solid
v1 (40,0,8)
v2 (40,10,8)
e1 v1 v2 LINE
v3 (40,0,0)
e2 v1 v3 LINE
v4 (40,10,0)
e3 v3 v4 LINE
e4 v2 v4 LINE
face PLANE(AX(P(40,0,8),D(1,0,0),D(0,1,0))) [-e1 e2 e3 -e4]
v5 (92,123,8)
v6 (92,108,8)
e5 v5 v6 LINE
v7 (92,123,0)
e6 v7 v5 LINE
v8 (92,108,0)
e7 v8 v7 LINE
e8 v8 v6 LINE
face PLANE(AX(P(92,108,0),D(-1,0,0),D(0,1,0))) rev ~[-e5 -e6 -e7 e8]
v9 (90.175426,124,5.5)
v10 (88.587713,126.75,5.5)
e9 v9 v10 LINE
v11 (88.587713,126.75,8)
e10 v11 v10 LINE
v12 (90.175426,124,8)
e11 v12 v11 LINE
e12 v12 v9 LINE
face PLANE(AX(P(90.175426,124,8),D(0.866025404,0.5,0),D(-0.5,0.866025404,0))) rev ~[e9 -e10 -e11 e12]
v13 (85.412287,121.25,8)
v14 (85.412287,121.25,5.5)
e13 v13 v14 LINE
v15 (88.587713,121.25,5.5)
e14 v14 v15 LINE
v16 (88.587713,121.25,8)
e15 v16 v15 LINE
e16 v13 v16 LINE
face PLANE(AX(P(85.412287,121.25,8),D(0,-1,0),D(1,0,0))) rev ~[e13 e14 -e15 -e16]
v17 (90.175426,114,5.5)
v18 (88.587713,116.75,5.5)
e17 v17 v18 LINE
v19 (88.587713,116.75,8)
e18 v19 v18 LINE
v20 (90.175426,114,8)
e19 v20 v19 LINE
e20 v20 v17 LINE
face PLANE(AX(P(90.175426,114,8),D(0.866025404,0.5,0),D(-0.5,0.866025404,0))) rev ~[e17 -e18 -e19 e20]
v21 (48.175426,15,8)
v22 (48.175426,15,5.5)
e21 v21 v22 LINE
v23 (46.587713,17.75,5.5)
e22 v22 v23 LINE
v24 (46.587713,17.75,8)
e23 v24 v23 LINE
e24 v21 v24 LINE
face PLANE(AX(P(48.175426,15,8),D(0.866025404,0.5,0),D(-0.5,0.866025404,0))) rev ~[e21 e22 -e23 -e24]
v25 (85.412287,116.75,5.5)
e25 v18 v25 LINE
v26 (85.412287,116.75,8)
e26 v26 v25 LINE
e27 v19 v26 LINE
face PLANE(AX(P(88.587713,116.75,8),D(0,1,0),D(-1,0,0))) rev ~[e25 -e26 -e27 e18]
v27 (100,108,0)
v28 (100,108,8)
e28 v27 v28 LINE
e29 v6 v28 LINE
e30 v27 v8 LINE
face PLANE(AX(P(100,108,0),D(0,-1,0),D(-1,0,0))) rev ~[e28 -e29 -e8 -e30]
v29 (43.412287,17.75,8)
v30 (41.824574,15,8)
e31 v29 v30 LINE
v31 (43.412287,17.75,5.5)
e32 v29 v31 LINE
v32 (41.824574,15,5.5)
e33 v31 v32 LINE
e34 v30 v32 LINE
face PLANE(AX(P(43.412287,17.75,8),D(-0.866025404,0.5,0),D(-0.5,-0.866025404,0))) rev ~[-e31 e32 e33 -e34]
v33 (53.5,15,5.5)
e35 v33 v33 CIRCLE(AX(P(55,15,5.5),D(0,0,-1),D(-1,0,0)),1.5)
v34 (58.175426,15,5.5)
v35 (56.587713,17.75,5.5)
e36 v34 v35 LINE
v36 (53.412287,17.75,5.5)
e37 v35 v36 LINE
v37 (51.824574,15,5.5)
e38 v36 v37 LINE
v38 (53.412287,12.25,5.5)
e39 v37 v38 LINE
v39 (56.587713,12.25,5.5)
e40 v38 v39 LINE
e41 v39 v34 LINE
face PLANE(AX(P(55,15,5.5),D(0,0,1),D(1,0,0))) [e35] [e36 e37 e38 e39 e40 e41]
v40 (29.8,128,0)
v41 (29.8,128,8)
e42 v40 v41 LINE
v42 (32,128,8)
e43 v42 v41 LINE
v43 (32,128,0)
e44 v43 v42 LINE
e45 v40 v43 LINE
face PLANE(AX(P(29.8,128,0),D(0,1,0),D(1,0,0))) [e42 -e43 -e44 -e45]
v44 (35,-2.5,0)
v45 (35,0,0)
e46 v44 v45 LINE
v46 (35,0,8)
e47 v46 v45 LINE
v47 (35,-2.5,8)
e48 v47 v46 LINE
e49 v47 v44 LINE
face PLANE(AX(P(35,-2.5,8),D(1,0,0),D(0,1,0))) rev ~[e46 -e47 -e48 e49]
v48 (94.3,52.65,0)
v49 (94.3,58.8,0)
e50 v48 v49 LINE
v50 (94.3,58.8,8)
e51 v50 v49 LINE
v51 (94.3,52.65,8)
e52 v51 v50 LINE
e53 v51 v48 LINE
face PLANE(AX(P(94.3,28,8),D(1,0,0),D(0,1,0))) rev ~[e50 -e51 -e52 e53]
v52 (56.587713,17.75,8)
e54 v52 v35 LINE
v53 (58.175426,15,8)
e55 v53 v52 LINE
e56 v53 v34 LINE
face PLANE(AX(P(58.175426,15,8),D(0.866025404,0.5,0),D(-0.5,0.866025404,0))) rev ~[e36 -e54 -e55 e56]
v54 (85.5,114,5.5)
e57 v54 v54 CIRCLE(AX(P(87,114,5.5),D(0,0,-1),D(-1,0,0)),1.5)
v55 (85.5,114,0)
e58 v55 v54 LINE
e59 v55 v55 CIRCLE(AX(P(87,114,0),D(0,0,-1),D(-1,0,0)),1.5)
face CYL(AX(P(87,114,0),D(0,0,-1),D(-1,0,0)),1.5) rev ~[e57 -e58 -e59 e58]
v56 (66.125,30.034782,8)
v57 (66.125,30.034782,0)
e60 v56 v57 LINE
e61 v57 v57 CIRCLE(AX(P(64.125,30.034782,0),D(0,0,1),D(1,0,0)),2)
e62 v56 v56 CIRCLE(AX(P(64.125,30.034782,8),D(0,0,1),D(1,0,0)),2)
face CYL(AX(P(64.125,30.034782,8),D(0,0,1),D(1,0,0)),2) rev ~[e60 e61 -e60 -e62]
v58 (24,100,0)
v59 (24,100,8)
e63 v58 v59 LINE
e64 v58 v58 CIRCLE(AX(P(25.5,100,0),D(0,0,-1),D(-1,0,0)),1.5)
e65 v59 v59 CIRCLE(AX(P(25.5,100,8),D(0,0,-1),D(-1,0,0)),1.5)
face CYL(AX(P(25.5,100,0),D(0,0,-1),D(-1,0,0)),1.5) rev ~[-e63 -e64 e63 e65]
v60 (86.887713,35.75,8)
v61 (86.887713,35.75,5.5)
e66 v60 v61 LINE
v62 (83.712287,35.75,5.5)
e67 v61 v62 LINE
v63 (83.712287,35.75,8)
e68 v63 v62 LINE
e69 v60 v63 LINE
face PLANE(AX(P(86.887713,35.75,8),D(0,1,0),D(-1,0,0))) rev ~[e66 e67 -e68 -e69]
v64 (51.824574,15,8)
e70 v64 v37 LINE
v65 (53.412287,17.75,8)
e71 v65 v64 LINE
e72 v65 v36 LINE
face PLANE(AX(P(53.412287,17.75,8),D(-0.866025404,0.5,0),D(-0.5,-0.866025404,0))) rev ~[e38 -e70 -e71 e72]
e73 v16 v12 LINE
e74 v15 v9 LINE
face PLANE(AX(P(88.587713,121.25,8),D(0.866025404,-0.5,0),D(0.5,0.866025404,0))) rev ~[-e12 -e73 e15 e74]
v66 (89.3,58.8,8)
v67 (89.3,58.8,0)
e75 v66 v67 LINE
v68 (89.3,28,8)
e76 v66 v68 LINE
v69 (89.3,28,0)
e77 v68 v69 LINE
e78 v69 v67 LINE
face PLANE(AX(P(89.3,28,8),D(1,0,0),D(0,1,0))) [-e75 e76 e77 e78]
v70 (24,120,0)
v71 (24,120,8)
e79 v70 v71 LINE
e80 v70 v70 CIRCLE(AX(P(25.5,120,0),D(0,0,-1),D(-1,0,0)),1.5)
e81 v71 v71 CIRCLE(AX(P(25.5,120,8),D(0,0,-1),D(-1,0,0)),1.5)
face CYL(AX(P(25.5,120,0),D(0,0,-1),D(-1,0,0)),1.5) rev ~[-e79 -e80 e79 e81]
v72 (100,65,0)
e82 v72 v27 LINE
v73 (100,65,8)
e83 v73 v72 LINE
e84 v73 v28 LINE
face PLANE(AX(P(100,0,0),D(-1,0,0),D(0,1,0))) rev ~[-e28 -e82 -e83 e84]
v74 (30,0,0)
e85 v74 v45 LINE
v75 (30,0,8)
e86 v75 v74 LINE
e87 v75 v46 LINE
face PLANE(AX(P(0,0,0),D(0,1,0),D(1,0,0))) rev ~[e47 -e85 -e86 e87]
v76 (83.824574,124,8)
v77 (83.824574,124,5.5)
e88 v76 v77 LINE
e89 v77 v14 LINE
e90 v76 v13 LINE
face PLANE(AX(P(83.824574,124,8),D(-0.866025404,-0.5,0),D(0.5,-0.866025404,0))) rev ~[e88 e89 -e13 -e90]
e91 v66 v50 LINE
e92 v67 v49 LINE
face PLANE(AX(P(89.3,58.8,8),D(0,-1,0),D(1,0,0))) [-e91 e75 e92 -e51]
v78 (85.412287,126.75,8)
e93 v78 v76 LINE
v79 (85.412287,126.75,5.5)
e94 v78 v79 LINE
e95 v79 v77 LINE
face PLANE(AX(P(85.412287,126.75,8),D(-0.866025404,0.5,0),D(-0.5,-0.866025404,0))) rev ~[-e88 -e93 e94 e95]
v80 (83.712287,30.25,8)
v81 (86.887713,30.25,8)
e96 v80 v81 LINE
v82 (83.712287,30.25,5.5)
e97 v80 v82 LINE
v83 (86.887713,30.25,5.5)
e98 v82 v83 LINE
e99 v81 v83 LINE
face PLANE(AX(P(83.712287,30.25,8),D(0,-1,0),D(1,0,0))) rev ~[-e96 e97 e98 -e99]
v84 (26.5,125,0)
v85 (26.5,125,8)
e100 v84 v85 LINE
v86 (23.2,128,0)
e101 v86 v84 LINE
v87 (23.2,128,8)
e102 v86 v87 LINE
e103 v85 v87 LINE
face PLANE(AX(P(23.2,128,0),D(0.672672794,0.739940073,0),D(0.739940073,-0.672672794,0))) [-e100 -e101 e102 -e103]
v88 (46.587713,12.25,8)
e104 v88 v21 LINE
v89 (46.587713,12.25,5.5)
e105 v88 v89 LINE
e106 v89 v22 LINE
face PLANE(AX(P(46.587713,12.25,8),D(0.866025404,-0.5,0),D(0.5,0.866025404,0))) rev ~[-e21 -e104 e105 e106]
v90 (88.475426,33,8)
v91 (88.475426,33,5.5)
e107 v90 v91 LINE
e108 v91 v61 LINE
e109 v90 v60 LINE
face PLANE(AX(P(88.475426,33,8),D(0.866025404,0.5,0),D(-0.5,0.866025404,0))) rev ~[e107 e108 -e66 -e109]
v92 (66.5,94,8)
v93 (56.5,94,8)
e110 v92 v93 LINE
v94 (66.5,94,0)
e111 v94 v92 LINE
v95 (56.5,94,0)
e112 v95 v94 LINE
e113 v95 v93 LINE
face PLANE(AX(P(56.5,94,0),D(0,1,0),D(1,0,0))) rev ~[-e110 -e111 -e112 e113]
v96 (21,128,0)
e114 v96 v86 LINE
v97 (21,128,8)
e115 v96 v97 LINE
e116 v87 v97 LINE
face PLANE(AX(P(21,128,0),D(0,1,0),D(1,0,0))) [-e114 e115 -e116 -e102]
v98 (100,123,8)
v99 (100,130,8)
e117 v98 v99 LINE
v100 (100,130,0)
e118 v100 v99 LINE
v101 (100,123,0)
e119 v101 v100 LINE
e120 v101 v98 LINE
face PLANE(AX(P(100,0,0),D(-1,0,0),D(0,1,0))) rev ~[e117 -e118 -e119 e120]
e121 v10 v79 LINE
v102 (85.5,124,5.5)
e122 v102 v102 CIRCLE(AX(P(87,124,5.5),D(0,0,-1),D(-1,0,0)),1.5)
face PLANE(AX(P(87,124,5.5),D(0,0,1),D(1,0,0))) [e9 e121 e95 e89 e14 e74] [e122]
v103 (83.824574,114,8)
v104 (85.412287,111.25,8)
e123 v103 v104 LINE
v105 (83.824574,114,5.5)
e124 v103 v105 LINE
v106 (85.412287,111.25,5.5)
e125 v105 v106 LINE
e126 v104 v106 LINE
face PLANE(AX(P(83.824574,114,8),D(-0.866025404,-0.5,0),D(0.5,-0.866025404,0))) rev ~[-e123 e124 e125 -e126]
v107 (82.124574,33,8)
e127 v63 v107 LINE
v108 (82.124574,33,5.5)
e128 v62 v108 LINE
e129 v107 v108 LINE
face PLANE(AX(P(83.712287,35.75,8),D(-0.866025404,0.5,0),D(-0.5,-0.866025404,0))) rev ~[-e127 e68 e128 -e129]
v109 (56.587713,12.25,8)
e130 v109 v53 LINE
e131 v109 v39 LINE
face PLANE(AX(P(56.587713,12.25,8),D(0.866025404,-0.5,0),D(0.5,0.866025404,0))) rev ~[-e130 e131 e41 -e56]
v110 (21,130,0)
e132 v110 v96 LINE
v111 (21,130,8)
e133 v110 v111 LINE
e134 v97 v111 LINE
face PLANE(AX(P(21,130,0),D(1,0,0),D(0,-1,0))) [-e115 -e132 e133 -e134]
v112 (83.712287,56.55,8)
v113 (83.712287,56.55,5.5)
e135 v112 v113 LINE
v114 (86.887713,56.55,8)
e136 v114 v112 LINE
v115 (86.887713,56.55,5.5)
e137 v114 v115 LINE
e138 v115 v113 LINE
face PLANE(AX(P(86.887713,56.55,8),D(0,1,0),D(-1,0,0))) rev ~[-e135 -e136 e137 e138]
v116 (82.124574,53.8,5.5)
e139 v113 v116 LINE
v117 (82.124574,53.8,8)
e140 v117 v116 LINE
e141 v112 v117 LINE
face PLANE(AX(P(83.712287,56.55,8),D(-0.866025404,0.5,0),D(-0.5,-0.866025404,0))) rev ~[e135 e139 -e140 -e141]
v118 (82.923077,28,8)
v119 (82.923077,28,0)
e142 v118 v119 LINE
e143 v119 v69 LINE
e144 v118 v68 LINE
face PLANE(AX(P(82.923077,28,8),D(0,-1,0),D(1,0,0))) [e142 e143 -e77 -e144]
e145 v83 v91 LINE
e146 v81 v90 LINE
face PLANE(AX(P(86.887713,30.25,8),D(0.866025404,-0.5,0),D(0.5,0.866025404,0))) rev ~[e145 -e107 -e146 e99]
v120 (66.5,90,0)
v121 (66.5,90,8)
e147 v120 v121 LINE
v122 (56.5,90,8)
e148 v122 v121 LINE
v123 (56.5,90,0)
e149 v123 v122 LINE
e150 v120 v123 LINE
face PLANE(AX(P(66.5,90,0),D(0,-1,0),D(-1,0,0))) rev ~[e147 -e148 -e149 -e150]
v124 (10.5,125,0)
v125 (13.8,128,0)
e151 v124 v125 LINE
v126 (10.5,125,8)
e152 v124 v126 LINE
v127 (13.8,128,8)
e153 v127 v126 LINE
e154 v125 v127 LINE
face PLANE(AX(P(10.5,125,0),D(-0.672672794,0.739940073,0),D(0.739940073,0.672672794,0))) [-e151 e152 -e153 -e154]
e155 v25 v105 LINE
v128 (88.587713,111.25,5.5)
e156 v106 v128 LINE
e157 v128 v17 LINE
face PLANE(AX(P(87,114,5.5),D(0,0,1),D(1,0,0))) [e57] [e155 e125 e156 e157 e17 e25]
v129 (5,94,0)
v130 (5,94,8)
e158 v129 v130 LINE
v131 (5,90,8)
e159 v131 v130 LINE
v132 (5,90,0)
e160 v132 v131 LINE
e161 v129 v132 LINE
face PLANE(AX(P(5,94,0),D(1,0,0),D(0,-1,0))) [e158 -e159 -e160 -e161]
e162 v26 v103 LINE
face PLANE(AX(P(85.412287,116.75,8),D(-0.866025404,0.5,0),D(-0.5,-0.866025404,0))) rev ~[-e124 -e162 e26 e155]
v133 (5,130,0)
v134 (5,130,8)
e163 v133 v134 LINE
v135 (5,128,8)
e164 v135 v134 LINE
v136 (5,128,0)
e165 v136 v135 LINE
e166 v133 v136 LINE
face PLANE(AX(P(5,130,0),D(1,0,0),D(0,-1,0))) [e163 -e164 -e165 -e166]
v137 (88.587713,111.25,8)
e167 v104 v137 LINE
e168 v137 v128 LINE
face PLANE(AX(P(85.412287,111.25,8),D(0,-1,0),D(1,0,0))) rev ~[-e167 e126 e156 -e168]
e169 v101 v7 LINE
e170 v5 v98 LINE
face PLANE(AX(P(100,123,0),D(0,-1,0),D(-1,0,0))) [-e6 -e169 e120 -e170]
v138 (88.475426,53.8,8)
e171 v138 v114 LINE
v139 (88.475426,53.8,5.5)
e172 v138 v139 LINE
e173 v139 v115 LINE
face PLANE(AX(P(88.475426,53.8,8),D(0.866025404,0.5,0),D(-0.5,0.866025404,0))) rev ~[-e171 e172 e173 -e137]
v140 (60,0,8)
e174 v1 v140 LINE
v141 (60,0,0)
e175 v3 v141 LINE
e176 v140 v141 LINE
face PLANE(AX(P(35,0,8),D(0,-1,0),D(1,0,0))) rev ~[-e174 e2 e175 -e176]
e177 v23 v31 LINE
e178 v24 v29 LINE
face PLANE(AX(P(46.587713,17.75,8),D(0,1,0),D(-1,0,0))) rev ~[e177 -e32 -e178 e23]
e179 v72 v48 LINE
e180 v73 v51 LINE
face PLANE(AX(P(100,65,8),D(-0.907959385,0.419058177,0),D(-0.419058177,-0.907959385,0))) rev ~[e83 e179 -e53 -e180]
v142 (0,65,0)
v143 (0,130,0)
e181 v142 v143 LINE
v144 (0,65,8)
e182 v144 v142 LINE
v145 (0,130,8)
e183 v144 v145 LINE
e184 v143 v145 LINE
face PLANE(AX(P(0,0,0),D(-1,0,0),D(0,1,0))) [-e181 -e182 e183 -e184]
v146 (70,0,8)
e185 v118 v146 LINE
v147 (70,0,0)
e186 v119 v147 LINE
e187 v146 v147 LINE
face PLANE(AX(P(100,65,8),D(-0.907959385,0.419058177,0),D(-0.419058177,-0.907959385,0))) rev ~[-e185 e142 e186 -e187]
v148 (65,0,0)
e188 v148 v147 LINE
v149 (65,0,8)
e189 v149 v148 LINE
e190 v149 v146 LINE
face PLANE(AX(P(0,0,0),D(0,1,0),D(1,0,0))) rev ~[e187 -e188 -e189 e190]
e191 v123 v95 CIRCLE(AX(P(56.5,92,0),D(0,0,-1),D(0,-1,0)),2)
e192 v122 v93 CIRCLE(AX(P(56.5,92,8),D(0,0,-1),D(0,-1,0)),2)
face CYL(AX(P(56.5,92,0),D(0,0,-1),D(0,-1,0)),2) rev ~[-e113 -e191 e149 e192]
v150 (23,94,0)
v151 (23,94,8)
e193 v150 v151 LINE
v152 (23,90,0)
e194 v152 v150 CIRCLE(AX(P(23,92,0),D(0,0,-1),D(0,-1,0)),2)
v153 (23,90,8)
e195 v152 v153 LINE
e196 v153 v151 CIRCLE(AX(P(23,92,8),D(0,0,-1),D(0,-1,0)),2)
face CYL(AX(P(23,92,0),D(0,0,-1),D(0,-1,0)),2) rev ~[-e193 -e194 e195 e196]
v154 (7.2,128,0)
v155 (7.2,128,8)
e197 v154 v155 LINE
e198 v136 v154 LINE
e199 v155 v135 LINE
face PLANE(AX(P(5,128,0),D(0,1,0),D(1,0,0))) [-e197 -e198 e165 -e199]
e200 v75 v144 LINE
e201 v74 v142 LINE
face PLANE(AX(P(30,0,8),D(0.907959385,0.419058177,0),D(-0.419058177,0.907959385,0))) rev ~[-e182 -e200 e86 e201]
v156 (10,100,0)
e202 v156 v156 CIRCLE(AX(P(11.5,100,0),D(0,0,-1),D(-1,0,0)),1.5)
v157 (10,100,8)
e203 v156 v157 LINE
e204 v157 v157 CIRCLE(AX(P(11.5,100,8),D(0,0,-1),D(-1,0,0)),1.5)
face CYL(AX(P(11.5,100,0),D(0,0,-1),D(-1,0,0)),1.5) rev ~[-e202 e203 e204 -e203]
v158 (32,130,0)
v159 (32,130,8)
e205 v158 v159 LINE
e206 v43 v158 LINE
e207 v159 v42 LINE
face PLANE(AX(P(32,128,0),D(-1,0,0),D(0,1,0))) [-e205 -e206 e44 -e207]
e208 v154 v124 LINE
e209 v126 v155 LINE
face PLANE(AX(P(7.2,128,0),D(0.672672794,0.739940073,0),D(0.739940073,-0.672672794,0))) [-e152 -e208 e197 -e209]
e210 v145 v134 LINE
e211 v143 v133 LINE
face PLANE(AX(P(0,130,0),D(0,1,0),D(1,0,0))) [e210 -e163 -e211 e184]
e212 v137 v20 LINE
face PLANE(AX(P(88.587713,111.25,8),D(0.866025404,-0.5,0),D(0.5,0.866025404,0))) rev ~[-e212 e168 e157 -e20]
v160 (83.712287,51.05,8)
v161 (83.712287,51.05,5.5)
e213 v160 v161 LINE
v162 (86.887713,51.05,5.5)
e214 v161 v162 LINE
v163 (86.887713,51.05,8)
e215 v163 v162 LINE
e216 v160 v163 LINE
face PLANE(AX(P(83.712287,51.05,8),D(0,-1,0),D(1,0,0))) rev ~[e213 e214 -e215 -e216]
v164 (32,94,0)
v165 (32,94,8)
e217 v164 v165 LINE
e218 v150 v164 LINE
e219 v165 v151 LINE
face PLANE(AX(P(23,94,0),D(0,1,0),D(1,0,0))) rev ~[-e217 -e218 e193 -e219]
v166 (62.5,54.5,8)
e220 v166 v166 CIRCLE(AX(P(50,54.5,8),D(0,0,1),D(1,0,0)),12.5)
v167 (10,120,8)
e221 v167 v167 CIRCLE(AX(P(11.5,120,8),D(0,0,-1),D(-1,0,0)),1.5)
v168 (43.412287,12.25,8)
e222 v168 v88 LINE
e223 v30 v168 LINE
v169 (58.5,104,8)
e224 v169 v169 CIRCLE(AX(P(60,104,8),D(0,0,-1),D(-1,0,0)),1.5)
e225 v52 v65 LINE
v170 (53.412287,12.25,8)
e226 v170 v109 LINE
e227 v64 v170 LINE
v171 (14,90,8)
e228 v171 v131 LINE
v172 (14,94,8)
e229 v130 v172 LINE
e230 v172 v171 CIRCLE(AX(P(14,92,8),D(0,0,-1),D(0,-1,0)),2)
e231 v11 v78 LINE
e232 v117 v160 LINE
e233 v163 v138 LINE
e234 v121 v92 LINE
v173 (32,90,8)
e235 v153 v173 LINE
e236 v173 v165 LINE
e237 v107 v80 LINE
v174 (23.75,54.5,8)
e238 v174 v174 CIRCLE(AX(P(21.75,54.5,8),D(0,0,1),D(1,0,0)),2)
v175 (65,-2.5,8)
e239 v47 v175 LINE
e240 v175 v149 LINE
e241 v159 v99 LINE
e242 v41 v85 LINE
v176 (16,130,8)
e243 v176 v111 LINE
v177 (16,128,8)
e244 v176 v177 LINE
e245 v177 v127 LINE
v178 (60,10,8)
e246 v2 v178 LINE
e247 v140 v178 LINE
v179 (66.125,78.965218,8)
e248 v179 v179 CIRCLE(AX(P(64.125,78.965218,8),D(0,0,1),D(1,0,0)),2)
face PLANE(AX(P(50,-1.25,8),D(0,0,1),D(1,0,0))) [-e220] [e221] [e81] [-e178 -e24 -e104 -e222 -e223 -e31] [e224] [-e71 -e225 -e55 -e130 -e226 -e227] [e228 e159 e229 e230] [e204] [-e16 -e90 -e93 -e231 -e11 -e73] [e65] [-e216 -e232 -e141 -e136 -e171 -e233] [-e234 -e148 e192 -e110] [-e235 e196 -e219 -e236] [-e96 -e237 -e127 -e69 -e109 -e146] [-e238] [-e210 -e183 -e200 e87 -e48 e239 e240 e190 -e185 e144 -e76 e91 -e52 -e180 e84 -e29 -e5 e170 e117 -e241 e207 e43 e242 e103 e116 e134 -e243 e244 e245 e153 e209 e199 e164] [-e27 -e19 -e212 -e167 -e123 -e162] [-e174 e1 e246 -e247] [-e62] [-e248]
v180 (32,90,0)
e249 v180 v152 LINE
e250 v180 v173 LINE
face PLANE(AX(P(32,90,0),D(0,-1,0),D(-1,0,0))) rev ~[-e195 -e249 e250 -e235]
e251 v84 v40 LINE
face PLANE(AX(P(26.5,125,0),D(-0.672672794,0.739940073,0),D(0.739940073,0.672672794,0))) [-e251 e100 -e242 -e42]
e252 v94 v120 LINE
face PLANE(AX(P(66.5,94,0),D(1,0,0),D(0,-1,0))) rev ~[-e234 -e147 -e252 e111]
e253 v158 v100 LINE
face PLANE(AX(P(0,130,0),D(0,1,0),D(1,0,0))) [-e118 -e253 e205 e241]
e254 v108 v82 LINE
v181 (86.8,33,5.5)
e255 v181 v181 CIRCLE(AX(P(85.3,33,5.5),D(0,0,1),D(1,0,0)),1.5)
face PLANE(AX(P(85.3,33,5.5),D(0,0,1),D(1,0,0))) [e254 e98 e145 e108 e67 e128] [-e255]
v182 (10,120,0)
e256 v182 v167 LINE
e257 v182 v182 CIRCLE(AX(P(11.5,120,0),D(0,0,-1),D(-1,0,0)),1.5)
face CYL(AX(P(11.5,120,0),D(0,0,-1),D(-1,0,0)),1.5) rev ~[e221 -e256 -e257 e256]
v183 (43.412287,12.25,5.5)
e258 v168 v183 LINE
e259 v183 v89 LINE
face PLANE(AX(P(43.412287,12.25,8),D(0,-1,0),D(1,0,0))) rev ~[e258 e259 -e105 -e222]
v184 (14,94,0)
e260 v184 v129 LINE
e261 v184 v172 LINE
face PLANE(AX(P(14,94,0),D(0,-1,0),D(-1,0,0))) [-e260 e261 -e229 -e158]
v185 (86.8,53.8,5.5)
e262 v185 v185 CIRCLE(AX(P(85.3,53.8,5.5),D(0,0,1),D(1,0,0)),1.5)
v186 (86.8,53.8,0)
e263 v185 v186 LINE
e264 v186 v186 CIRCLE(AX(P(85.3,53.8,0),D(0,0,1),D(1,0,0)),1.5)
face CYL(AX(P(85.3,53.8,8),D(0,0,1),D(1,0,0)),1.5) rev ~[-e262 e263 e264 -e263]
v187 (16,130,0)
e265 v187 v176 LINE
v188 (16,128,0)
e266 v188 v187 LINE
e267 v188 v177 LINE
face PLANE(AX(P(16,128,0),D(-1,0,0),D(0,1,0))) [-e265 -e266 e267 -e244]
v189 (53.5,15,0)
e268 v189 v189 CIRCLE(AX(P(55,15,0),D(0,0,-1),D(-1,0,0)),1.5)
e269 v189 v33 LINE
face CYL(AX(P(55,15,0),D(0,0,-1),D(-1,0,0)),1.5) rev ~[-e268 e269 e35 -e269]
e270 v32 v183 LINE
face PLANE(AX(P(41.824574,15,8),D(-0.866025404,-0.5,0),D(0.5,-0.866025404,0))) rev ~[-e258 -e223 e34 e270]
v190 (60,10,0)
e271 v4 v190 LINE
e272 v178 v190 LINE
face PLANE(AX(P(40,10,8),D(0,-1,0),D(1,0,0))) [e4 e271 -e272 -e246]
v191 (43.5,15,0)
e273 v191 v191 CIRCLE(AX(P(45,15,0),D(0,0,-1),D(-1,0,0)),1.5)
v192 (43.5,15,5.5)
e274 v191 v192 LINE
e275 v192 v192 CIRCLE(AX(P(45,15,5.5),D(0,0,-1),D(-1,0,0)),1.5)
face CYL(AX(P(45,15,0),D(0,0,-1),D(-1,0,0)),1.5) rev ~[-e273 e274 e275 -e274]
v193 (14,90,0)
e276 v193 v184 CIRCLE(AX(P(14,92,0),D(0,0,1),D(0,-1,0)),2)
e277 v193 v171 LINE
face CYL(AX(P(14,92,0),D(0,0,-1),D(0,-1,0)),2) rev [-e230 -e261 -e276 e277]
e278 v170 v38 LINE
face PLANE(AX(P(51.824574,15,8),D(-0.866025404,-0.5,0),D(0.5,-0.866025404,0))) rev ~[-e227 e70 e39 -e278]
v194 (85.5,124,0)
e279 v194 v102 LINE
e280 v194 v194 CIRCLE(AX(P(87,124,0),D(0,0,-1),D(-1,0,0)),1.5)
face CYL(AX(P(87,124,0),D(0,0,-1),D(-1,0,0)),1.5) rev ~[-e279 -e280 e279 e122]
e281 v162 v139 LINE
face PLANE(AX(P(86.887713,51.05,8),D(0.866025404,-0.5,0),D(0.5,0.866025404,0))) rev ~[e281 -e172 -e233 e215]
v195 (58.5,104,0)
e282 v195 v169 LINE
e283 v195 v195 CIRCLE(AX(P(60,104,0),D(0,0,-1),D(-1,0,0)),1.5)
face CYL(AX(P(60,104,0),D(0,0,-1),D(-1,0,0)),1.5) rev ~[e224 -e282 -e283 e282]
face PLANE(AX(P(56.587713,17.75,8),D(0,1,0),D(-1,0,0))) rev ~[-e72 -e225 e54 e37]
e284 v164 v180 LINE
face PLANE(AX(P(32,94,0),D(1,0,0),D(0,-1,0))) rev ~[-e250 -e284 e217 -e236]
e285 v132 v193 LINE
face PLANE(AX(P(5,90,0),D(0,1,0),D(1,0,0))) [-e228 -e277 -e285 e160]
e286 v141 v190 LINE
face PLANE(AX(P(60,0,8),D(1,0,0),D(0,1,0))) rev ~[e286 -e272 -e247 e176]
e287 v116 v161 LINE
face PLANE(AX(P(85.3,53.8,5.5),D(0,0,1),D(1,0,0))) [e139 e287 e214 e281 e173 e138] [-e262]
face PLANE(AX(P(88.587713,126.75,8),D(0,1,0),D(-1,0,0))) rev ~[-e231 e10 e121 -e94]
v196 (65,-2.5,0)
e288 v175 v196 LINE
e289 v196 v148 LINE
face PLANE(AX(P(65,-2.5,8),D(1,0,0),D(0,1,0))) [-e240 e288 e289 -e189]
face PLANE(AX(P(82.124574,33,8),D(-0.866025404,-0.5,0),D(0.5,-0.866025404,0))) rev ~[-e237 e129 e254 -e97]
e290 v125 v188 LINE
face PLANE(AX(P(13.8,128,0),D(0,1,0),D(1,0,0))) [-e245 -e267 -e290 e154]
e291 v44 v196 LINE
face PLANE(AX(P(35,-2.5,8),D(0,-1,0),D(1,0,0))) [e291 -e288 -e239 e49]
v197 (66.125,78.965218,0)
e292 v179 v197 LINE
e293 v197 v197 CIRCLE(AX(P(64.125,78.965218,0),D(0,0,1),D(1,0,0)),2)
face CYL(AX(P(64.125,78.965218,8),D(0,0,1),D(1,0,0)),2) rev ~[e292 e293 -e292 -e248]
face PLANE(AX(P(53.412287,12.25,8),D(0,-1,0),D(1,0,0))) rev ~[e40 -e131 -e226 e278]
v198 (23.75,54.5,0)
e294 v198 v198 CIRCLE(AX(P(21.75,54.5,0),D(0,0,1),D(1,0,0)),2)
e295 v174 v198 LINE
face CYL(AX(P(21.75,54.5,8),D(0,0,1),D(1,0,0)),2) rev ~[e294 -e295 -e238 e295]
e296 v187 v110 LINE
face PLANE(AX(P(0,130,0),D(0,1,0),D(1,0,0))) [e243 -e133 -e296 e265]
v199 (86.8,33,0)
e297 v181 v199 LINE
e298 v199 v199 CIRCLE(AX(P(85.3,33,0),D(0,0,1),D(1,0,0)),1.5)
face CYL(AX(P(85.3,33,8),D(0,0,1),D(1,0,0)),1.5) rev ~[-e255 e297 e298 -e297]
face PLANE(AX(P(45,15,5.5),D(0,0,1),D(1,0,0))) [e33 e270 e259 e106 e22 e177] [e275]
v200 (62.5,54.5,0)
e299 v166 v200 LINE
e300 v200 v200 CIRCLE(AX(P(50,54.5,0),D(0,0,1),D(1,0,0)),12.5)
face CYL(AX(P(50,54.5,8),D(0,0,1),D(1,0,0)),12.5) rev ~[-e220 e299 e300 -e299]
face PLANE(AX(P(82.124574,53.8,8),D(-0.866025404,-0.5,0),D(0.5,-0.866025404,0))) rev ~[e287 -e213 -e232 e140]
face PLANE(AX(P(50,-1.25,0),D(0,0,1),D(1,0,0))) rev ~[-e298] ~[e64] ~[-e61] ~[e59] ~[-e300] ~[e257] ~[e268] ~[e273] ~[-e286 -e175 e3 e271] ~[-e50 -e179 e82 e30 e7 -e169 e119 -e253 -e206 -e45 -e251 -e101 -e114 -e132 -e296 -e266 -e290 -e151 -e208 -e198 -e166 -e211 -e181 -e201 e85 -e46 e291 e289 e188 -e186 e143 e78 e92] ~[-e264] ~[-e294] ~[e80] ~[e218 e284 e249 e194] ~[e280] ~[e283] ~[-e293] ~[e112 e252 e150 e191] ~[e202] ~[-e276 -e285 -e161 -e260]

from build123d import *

# Parameters (mm, degrees)
SKETCH_1_W          = 100
SKETCH_1_H          = 130
EXTRUDE_1_DEPTH     = 8
SKETCH_3_W          = 20
SKETCH_3_H          = 10
CUT_EXTRUDE_1_DEPTH = 8
SKETCH_4_R          = 1.5
SKETCH_4_W          = 8
SKETCH_4_H          = 15
CUT_EXTRUDE_2_DEPTH = 9
CUT_EXTRUDE_6_DEPTH = 2.5
SKETCH_10_R         = 12.5
SKETCH_10_W         = 5
SKETCH_10_H         = 30.8
CUT_EXTRUDE_7_DEPTH = 9
EXTRUDE_3_DEPTH     = 8
SKETCH_5_R          = 2
SKETCH_5_R_2        = 1.5
CUT_EXTRUDE_3_DEPTH = 9
SKETCH_11_W         = 30
SKETCH_11_H         = 2.5
EXTRUDE_2_DEPTH     = 8
CUT_EXTRUDE_8_DEPTH = 2.5


with BuildPart() as part:
    # 草图1 → 凸台-拉伸1 (new body)
    with BuildSketch(Plane.XY):
        with Locations((50, 65)):
            Rectangle(SKETCH_1_W, SKETCH_1_H)
    extrude(amount=EXTRUDE_1_DEPTH)

    # 草图3 → 切除-拉伸1 (cut)
    with BuildSketch(Plane.XY.offset(8)):
        with Locations((50, 5)):
            Rectangle(SKETCH_3_W, SKETCH_3_H)
        Polygon((0, 0), (30, 0), (0, 65), align=None)
        Polygon((100, 0), (100, 65), (70, 0), align=None)
    extrude(amount=-CUT_EXTRUDE_1_DEPTH, mode=Mode.SUBTRACT)

    # 草图4 → 切除-拉伸2 (cut, through all)
    with BuildSketch(Plane(origin=(0, 0, 0), x_dir=(-1, 0, 0), z_dir=(0, 0, -1))):
        with Locations((-87, 124)):
            Circle(SKETCH_4_R)
        with Locations((-25.5, 100)):
            Circle(SKETCH_4_R)
        with Locations((-11.5, 100)):
            Circle(SKETCH_4_R)
        with Locations((-11.5, 120)):
            Circle(SKETCH_4_R)
        with Locations((-25.5, 120)):
            Circle(SKETCH_4_R)
        with Locations((-60, 104)):
            Circle(SKETCH_4_R)
        with Locations((-45, 15)):
            Circle(SKETCH_4_R)
        with Locations((-55, 15)):
            Circle(SKETCH_4_R)
        with Locations((-87, 114)):
            Circle(SKETCH_4_R)
        with BuildLine():
            Line((-56.5, 94), (-66.5, 94))
            Line((-66.5, 94), (-66.5, 90))
            Line((-66.5, 90), (-56.5, 90))
            ThreePointArc((-56.5, 90), (-54.5, 92), (-56.5, 94))
        make_face()
        with Locations((-96, 115.5)):
            Rectangle(SKETCH_4_W, SKETCH_4_H)
        with BuildLine():
            Line((-32, 94), (-32, 90))
            Line((-32, 90), (-23, 90))
            ThreePointArc((-23, 90), (-21, 92), (-23, 94))
            Line((-23, 94), (-32, 94))
        make_face()
        with BuildLine():
            Line((-5, 94), (-5, 90))
            Line((-5, 90), (-14, 90))
            ThreePointArc((-14, 90), (-16, 92), (-14, 94))
            Line((-14, 94), (-5, 94))
        make_face()
        Polygon((-10.5, 125), (-13.8, 128), (-16, 128), (-16, 130), (-5, 130), (-5, 128), (-7.2, 128), align=None)
        Polygon((-26.5, 125), (-29.8, 128), (-32, 128), (-32, 130), (-21, 130), (-21, 128), (-23.2, 128), align=None)
    extrude(amount=-CUT_EXTRUDE_2_DEPTH, mode=Mode.SUBTRACT)

    # 草图9 → 切除-拉伸6 (cut)
    with BuildSketch(Plane.XY.offset(8)):
        Polygon((90.175426481, 124), (88.58771324, 126.75), (85.41228676, 126.75), (83.824573519, 124), (85.41228676, 121.25), (88.58771324, 121.25), align=None)
        Polygon((90.175426481, 114), (88.58771324, 116.75), (85.41228676, 116.75), (83.824573519, 114), (85.41228676, 111.25), (88.58771324, 111.25), align=None)
        Polygon((48.175426481, 15), (46.58771324, 17.75), (43.41228676, 17.75), (41.824573519, 15), (43.41228676, 12.25), (46.58771324, 12.25), align=None)
        Polygon((58.175426481, 15), (56.58771324, 17.75), (53.41228676, 17.75), (51.824573519, 15), (53.41228676, 12.25), (56.58771324, 12.25), align=None)
    extrude(amount=-CUT_EXTRUDE_6_DEPTH, mode=Mode.SUBTRACT)

    # 草图10 → 切除-拉伸7 (cut, through all)
    with BuildSketch(Plane.XY.offset(8)):
        with Locations((50, 54.5)):
            Circle(SKETCH_10_R)
        with Locations((91.8, 43.4)):
            Rectangle(SKETCH_10_W, SKETCH_10_H)
    extrude(amount=-CUT_EXTRUDE_7_DEPTH, mode=Mode.SUBTRACT)

    # 草图12 → 凸台-拉伸3 (add)
    with BuildSketch(Plane.XY.offset(8)):
        Polygon((89.3, 41.816666667), (82.923076923, 28), (89.3, 28), align=None)
    extrude(amount=-EXTRUDE_3_DEPTH)

    # 草图5 → 切除-拉伸3 (cut, through all)
    with BuildSketch(Plane.XY.offset(8)):
        with Locations((21.75, 54.5)):
            Circle(SKETCH_5_R)
        with Locations((64.125, 78.965217657)):
            Circle(SKETCH_5_R)
        with Locations((64.125, 30.034782343)):
            Circle(SKETCH_5_R)
        with Locations((85.3, 53.8)):
            Circle(SKETCH_5_R_2)
        with Locations((85.3, 33)):
            Circle(SKETCH_5_R_2)
    extrude(amount=-CUT_EXTRUDE_3_DEPTH, mode=Mode.SUBTRACT)

    # 草图11 → 凸台-拉伸2 (add)
    with BuildSketch(Plane.XY.offset(8)):
        with Locations((50, -1.25)):
            Rectangle(SKETCH_11_W, SKETCH_11_H)
    extrude(amount=-EXTRUDE_2_DEPTH)

    # 草图14 → 切除-拉伸8 (cut)
    with BuildSketch(Plane.XY.offset(8)):
        Polygon((88.475426481, 53.8), (86.88771324, 56.55), (83.71228676, 56.55), (82.124573519, 53.8), (83.71228676, 51.05), (86.88771324, 51.05), align=None)
        Polygon((88.475426481, 33), (86.88771324, 35.75), (83.71228676, 35.75), (82.124573519, 33), (83.71228676, 30.25), (86.88771324, 30.25), align=None)
    extrude(amount=-CUT_EXTRUDE_8_DEPTH, mode=Mode.SUBTRACT)


solid = part.part
